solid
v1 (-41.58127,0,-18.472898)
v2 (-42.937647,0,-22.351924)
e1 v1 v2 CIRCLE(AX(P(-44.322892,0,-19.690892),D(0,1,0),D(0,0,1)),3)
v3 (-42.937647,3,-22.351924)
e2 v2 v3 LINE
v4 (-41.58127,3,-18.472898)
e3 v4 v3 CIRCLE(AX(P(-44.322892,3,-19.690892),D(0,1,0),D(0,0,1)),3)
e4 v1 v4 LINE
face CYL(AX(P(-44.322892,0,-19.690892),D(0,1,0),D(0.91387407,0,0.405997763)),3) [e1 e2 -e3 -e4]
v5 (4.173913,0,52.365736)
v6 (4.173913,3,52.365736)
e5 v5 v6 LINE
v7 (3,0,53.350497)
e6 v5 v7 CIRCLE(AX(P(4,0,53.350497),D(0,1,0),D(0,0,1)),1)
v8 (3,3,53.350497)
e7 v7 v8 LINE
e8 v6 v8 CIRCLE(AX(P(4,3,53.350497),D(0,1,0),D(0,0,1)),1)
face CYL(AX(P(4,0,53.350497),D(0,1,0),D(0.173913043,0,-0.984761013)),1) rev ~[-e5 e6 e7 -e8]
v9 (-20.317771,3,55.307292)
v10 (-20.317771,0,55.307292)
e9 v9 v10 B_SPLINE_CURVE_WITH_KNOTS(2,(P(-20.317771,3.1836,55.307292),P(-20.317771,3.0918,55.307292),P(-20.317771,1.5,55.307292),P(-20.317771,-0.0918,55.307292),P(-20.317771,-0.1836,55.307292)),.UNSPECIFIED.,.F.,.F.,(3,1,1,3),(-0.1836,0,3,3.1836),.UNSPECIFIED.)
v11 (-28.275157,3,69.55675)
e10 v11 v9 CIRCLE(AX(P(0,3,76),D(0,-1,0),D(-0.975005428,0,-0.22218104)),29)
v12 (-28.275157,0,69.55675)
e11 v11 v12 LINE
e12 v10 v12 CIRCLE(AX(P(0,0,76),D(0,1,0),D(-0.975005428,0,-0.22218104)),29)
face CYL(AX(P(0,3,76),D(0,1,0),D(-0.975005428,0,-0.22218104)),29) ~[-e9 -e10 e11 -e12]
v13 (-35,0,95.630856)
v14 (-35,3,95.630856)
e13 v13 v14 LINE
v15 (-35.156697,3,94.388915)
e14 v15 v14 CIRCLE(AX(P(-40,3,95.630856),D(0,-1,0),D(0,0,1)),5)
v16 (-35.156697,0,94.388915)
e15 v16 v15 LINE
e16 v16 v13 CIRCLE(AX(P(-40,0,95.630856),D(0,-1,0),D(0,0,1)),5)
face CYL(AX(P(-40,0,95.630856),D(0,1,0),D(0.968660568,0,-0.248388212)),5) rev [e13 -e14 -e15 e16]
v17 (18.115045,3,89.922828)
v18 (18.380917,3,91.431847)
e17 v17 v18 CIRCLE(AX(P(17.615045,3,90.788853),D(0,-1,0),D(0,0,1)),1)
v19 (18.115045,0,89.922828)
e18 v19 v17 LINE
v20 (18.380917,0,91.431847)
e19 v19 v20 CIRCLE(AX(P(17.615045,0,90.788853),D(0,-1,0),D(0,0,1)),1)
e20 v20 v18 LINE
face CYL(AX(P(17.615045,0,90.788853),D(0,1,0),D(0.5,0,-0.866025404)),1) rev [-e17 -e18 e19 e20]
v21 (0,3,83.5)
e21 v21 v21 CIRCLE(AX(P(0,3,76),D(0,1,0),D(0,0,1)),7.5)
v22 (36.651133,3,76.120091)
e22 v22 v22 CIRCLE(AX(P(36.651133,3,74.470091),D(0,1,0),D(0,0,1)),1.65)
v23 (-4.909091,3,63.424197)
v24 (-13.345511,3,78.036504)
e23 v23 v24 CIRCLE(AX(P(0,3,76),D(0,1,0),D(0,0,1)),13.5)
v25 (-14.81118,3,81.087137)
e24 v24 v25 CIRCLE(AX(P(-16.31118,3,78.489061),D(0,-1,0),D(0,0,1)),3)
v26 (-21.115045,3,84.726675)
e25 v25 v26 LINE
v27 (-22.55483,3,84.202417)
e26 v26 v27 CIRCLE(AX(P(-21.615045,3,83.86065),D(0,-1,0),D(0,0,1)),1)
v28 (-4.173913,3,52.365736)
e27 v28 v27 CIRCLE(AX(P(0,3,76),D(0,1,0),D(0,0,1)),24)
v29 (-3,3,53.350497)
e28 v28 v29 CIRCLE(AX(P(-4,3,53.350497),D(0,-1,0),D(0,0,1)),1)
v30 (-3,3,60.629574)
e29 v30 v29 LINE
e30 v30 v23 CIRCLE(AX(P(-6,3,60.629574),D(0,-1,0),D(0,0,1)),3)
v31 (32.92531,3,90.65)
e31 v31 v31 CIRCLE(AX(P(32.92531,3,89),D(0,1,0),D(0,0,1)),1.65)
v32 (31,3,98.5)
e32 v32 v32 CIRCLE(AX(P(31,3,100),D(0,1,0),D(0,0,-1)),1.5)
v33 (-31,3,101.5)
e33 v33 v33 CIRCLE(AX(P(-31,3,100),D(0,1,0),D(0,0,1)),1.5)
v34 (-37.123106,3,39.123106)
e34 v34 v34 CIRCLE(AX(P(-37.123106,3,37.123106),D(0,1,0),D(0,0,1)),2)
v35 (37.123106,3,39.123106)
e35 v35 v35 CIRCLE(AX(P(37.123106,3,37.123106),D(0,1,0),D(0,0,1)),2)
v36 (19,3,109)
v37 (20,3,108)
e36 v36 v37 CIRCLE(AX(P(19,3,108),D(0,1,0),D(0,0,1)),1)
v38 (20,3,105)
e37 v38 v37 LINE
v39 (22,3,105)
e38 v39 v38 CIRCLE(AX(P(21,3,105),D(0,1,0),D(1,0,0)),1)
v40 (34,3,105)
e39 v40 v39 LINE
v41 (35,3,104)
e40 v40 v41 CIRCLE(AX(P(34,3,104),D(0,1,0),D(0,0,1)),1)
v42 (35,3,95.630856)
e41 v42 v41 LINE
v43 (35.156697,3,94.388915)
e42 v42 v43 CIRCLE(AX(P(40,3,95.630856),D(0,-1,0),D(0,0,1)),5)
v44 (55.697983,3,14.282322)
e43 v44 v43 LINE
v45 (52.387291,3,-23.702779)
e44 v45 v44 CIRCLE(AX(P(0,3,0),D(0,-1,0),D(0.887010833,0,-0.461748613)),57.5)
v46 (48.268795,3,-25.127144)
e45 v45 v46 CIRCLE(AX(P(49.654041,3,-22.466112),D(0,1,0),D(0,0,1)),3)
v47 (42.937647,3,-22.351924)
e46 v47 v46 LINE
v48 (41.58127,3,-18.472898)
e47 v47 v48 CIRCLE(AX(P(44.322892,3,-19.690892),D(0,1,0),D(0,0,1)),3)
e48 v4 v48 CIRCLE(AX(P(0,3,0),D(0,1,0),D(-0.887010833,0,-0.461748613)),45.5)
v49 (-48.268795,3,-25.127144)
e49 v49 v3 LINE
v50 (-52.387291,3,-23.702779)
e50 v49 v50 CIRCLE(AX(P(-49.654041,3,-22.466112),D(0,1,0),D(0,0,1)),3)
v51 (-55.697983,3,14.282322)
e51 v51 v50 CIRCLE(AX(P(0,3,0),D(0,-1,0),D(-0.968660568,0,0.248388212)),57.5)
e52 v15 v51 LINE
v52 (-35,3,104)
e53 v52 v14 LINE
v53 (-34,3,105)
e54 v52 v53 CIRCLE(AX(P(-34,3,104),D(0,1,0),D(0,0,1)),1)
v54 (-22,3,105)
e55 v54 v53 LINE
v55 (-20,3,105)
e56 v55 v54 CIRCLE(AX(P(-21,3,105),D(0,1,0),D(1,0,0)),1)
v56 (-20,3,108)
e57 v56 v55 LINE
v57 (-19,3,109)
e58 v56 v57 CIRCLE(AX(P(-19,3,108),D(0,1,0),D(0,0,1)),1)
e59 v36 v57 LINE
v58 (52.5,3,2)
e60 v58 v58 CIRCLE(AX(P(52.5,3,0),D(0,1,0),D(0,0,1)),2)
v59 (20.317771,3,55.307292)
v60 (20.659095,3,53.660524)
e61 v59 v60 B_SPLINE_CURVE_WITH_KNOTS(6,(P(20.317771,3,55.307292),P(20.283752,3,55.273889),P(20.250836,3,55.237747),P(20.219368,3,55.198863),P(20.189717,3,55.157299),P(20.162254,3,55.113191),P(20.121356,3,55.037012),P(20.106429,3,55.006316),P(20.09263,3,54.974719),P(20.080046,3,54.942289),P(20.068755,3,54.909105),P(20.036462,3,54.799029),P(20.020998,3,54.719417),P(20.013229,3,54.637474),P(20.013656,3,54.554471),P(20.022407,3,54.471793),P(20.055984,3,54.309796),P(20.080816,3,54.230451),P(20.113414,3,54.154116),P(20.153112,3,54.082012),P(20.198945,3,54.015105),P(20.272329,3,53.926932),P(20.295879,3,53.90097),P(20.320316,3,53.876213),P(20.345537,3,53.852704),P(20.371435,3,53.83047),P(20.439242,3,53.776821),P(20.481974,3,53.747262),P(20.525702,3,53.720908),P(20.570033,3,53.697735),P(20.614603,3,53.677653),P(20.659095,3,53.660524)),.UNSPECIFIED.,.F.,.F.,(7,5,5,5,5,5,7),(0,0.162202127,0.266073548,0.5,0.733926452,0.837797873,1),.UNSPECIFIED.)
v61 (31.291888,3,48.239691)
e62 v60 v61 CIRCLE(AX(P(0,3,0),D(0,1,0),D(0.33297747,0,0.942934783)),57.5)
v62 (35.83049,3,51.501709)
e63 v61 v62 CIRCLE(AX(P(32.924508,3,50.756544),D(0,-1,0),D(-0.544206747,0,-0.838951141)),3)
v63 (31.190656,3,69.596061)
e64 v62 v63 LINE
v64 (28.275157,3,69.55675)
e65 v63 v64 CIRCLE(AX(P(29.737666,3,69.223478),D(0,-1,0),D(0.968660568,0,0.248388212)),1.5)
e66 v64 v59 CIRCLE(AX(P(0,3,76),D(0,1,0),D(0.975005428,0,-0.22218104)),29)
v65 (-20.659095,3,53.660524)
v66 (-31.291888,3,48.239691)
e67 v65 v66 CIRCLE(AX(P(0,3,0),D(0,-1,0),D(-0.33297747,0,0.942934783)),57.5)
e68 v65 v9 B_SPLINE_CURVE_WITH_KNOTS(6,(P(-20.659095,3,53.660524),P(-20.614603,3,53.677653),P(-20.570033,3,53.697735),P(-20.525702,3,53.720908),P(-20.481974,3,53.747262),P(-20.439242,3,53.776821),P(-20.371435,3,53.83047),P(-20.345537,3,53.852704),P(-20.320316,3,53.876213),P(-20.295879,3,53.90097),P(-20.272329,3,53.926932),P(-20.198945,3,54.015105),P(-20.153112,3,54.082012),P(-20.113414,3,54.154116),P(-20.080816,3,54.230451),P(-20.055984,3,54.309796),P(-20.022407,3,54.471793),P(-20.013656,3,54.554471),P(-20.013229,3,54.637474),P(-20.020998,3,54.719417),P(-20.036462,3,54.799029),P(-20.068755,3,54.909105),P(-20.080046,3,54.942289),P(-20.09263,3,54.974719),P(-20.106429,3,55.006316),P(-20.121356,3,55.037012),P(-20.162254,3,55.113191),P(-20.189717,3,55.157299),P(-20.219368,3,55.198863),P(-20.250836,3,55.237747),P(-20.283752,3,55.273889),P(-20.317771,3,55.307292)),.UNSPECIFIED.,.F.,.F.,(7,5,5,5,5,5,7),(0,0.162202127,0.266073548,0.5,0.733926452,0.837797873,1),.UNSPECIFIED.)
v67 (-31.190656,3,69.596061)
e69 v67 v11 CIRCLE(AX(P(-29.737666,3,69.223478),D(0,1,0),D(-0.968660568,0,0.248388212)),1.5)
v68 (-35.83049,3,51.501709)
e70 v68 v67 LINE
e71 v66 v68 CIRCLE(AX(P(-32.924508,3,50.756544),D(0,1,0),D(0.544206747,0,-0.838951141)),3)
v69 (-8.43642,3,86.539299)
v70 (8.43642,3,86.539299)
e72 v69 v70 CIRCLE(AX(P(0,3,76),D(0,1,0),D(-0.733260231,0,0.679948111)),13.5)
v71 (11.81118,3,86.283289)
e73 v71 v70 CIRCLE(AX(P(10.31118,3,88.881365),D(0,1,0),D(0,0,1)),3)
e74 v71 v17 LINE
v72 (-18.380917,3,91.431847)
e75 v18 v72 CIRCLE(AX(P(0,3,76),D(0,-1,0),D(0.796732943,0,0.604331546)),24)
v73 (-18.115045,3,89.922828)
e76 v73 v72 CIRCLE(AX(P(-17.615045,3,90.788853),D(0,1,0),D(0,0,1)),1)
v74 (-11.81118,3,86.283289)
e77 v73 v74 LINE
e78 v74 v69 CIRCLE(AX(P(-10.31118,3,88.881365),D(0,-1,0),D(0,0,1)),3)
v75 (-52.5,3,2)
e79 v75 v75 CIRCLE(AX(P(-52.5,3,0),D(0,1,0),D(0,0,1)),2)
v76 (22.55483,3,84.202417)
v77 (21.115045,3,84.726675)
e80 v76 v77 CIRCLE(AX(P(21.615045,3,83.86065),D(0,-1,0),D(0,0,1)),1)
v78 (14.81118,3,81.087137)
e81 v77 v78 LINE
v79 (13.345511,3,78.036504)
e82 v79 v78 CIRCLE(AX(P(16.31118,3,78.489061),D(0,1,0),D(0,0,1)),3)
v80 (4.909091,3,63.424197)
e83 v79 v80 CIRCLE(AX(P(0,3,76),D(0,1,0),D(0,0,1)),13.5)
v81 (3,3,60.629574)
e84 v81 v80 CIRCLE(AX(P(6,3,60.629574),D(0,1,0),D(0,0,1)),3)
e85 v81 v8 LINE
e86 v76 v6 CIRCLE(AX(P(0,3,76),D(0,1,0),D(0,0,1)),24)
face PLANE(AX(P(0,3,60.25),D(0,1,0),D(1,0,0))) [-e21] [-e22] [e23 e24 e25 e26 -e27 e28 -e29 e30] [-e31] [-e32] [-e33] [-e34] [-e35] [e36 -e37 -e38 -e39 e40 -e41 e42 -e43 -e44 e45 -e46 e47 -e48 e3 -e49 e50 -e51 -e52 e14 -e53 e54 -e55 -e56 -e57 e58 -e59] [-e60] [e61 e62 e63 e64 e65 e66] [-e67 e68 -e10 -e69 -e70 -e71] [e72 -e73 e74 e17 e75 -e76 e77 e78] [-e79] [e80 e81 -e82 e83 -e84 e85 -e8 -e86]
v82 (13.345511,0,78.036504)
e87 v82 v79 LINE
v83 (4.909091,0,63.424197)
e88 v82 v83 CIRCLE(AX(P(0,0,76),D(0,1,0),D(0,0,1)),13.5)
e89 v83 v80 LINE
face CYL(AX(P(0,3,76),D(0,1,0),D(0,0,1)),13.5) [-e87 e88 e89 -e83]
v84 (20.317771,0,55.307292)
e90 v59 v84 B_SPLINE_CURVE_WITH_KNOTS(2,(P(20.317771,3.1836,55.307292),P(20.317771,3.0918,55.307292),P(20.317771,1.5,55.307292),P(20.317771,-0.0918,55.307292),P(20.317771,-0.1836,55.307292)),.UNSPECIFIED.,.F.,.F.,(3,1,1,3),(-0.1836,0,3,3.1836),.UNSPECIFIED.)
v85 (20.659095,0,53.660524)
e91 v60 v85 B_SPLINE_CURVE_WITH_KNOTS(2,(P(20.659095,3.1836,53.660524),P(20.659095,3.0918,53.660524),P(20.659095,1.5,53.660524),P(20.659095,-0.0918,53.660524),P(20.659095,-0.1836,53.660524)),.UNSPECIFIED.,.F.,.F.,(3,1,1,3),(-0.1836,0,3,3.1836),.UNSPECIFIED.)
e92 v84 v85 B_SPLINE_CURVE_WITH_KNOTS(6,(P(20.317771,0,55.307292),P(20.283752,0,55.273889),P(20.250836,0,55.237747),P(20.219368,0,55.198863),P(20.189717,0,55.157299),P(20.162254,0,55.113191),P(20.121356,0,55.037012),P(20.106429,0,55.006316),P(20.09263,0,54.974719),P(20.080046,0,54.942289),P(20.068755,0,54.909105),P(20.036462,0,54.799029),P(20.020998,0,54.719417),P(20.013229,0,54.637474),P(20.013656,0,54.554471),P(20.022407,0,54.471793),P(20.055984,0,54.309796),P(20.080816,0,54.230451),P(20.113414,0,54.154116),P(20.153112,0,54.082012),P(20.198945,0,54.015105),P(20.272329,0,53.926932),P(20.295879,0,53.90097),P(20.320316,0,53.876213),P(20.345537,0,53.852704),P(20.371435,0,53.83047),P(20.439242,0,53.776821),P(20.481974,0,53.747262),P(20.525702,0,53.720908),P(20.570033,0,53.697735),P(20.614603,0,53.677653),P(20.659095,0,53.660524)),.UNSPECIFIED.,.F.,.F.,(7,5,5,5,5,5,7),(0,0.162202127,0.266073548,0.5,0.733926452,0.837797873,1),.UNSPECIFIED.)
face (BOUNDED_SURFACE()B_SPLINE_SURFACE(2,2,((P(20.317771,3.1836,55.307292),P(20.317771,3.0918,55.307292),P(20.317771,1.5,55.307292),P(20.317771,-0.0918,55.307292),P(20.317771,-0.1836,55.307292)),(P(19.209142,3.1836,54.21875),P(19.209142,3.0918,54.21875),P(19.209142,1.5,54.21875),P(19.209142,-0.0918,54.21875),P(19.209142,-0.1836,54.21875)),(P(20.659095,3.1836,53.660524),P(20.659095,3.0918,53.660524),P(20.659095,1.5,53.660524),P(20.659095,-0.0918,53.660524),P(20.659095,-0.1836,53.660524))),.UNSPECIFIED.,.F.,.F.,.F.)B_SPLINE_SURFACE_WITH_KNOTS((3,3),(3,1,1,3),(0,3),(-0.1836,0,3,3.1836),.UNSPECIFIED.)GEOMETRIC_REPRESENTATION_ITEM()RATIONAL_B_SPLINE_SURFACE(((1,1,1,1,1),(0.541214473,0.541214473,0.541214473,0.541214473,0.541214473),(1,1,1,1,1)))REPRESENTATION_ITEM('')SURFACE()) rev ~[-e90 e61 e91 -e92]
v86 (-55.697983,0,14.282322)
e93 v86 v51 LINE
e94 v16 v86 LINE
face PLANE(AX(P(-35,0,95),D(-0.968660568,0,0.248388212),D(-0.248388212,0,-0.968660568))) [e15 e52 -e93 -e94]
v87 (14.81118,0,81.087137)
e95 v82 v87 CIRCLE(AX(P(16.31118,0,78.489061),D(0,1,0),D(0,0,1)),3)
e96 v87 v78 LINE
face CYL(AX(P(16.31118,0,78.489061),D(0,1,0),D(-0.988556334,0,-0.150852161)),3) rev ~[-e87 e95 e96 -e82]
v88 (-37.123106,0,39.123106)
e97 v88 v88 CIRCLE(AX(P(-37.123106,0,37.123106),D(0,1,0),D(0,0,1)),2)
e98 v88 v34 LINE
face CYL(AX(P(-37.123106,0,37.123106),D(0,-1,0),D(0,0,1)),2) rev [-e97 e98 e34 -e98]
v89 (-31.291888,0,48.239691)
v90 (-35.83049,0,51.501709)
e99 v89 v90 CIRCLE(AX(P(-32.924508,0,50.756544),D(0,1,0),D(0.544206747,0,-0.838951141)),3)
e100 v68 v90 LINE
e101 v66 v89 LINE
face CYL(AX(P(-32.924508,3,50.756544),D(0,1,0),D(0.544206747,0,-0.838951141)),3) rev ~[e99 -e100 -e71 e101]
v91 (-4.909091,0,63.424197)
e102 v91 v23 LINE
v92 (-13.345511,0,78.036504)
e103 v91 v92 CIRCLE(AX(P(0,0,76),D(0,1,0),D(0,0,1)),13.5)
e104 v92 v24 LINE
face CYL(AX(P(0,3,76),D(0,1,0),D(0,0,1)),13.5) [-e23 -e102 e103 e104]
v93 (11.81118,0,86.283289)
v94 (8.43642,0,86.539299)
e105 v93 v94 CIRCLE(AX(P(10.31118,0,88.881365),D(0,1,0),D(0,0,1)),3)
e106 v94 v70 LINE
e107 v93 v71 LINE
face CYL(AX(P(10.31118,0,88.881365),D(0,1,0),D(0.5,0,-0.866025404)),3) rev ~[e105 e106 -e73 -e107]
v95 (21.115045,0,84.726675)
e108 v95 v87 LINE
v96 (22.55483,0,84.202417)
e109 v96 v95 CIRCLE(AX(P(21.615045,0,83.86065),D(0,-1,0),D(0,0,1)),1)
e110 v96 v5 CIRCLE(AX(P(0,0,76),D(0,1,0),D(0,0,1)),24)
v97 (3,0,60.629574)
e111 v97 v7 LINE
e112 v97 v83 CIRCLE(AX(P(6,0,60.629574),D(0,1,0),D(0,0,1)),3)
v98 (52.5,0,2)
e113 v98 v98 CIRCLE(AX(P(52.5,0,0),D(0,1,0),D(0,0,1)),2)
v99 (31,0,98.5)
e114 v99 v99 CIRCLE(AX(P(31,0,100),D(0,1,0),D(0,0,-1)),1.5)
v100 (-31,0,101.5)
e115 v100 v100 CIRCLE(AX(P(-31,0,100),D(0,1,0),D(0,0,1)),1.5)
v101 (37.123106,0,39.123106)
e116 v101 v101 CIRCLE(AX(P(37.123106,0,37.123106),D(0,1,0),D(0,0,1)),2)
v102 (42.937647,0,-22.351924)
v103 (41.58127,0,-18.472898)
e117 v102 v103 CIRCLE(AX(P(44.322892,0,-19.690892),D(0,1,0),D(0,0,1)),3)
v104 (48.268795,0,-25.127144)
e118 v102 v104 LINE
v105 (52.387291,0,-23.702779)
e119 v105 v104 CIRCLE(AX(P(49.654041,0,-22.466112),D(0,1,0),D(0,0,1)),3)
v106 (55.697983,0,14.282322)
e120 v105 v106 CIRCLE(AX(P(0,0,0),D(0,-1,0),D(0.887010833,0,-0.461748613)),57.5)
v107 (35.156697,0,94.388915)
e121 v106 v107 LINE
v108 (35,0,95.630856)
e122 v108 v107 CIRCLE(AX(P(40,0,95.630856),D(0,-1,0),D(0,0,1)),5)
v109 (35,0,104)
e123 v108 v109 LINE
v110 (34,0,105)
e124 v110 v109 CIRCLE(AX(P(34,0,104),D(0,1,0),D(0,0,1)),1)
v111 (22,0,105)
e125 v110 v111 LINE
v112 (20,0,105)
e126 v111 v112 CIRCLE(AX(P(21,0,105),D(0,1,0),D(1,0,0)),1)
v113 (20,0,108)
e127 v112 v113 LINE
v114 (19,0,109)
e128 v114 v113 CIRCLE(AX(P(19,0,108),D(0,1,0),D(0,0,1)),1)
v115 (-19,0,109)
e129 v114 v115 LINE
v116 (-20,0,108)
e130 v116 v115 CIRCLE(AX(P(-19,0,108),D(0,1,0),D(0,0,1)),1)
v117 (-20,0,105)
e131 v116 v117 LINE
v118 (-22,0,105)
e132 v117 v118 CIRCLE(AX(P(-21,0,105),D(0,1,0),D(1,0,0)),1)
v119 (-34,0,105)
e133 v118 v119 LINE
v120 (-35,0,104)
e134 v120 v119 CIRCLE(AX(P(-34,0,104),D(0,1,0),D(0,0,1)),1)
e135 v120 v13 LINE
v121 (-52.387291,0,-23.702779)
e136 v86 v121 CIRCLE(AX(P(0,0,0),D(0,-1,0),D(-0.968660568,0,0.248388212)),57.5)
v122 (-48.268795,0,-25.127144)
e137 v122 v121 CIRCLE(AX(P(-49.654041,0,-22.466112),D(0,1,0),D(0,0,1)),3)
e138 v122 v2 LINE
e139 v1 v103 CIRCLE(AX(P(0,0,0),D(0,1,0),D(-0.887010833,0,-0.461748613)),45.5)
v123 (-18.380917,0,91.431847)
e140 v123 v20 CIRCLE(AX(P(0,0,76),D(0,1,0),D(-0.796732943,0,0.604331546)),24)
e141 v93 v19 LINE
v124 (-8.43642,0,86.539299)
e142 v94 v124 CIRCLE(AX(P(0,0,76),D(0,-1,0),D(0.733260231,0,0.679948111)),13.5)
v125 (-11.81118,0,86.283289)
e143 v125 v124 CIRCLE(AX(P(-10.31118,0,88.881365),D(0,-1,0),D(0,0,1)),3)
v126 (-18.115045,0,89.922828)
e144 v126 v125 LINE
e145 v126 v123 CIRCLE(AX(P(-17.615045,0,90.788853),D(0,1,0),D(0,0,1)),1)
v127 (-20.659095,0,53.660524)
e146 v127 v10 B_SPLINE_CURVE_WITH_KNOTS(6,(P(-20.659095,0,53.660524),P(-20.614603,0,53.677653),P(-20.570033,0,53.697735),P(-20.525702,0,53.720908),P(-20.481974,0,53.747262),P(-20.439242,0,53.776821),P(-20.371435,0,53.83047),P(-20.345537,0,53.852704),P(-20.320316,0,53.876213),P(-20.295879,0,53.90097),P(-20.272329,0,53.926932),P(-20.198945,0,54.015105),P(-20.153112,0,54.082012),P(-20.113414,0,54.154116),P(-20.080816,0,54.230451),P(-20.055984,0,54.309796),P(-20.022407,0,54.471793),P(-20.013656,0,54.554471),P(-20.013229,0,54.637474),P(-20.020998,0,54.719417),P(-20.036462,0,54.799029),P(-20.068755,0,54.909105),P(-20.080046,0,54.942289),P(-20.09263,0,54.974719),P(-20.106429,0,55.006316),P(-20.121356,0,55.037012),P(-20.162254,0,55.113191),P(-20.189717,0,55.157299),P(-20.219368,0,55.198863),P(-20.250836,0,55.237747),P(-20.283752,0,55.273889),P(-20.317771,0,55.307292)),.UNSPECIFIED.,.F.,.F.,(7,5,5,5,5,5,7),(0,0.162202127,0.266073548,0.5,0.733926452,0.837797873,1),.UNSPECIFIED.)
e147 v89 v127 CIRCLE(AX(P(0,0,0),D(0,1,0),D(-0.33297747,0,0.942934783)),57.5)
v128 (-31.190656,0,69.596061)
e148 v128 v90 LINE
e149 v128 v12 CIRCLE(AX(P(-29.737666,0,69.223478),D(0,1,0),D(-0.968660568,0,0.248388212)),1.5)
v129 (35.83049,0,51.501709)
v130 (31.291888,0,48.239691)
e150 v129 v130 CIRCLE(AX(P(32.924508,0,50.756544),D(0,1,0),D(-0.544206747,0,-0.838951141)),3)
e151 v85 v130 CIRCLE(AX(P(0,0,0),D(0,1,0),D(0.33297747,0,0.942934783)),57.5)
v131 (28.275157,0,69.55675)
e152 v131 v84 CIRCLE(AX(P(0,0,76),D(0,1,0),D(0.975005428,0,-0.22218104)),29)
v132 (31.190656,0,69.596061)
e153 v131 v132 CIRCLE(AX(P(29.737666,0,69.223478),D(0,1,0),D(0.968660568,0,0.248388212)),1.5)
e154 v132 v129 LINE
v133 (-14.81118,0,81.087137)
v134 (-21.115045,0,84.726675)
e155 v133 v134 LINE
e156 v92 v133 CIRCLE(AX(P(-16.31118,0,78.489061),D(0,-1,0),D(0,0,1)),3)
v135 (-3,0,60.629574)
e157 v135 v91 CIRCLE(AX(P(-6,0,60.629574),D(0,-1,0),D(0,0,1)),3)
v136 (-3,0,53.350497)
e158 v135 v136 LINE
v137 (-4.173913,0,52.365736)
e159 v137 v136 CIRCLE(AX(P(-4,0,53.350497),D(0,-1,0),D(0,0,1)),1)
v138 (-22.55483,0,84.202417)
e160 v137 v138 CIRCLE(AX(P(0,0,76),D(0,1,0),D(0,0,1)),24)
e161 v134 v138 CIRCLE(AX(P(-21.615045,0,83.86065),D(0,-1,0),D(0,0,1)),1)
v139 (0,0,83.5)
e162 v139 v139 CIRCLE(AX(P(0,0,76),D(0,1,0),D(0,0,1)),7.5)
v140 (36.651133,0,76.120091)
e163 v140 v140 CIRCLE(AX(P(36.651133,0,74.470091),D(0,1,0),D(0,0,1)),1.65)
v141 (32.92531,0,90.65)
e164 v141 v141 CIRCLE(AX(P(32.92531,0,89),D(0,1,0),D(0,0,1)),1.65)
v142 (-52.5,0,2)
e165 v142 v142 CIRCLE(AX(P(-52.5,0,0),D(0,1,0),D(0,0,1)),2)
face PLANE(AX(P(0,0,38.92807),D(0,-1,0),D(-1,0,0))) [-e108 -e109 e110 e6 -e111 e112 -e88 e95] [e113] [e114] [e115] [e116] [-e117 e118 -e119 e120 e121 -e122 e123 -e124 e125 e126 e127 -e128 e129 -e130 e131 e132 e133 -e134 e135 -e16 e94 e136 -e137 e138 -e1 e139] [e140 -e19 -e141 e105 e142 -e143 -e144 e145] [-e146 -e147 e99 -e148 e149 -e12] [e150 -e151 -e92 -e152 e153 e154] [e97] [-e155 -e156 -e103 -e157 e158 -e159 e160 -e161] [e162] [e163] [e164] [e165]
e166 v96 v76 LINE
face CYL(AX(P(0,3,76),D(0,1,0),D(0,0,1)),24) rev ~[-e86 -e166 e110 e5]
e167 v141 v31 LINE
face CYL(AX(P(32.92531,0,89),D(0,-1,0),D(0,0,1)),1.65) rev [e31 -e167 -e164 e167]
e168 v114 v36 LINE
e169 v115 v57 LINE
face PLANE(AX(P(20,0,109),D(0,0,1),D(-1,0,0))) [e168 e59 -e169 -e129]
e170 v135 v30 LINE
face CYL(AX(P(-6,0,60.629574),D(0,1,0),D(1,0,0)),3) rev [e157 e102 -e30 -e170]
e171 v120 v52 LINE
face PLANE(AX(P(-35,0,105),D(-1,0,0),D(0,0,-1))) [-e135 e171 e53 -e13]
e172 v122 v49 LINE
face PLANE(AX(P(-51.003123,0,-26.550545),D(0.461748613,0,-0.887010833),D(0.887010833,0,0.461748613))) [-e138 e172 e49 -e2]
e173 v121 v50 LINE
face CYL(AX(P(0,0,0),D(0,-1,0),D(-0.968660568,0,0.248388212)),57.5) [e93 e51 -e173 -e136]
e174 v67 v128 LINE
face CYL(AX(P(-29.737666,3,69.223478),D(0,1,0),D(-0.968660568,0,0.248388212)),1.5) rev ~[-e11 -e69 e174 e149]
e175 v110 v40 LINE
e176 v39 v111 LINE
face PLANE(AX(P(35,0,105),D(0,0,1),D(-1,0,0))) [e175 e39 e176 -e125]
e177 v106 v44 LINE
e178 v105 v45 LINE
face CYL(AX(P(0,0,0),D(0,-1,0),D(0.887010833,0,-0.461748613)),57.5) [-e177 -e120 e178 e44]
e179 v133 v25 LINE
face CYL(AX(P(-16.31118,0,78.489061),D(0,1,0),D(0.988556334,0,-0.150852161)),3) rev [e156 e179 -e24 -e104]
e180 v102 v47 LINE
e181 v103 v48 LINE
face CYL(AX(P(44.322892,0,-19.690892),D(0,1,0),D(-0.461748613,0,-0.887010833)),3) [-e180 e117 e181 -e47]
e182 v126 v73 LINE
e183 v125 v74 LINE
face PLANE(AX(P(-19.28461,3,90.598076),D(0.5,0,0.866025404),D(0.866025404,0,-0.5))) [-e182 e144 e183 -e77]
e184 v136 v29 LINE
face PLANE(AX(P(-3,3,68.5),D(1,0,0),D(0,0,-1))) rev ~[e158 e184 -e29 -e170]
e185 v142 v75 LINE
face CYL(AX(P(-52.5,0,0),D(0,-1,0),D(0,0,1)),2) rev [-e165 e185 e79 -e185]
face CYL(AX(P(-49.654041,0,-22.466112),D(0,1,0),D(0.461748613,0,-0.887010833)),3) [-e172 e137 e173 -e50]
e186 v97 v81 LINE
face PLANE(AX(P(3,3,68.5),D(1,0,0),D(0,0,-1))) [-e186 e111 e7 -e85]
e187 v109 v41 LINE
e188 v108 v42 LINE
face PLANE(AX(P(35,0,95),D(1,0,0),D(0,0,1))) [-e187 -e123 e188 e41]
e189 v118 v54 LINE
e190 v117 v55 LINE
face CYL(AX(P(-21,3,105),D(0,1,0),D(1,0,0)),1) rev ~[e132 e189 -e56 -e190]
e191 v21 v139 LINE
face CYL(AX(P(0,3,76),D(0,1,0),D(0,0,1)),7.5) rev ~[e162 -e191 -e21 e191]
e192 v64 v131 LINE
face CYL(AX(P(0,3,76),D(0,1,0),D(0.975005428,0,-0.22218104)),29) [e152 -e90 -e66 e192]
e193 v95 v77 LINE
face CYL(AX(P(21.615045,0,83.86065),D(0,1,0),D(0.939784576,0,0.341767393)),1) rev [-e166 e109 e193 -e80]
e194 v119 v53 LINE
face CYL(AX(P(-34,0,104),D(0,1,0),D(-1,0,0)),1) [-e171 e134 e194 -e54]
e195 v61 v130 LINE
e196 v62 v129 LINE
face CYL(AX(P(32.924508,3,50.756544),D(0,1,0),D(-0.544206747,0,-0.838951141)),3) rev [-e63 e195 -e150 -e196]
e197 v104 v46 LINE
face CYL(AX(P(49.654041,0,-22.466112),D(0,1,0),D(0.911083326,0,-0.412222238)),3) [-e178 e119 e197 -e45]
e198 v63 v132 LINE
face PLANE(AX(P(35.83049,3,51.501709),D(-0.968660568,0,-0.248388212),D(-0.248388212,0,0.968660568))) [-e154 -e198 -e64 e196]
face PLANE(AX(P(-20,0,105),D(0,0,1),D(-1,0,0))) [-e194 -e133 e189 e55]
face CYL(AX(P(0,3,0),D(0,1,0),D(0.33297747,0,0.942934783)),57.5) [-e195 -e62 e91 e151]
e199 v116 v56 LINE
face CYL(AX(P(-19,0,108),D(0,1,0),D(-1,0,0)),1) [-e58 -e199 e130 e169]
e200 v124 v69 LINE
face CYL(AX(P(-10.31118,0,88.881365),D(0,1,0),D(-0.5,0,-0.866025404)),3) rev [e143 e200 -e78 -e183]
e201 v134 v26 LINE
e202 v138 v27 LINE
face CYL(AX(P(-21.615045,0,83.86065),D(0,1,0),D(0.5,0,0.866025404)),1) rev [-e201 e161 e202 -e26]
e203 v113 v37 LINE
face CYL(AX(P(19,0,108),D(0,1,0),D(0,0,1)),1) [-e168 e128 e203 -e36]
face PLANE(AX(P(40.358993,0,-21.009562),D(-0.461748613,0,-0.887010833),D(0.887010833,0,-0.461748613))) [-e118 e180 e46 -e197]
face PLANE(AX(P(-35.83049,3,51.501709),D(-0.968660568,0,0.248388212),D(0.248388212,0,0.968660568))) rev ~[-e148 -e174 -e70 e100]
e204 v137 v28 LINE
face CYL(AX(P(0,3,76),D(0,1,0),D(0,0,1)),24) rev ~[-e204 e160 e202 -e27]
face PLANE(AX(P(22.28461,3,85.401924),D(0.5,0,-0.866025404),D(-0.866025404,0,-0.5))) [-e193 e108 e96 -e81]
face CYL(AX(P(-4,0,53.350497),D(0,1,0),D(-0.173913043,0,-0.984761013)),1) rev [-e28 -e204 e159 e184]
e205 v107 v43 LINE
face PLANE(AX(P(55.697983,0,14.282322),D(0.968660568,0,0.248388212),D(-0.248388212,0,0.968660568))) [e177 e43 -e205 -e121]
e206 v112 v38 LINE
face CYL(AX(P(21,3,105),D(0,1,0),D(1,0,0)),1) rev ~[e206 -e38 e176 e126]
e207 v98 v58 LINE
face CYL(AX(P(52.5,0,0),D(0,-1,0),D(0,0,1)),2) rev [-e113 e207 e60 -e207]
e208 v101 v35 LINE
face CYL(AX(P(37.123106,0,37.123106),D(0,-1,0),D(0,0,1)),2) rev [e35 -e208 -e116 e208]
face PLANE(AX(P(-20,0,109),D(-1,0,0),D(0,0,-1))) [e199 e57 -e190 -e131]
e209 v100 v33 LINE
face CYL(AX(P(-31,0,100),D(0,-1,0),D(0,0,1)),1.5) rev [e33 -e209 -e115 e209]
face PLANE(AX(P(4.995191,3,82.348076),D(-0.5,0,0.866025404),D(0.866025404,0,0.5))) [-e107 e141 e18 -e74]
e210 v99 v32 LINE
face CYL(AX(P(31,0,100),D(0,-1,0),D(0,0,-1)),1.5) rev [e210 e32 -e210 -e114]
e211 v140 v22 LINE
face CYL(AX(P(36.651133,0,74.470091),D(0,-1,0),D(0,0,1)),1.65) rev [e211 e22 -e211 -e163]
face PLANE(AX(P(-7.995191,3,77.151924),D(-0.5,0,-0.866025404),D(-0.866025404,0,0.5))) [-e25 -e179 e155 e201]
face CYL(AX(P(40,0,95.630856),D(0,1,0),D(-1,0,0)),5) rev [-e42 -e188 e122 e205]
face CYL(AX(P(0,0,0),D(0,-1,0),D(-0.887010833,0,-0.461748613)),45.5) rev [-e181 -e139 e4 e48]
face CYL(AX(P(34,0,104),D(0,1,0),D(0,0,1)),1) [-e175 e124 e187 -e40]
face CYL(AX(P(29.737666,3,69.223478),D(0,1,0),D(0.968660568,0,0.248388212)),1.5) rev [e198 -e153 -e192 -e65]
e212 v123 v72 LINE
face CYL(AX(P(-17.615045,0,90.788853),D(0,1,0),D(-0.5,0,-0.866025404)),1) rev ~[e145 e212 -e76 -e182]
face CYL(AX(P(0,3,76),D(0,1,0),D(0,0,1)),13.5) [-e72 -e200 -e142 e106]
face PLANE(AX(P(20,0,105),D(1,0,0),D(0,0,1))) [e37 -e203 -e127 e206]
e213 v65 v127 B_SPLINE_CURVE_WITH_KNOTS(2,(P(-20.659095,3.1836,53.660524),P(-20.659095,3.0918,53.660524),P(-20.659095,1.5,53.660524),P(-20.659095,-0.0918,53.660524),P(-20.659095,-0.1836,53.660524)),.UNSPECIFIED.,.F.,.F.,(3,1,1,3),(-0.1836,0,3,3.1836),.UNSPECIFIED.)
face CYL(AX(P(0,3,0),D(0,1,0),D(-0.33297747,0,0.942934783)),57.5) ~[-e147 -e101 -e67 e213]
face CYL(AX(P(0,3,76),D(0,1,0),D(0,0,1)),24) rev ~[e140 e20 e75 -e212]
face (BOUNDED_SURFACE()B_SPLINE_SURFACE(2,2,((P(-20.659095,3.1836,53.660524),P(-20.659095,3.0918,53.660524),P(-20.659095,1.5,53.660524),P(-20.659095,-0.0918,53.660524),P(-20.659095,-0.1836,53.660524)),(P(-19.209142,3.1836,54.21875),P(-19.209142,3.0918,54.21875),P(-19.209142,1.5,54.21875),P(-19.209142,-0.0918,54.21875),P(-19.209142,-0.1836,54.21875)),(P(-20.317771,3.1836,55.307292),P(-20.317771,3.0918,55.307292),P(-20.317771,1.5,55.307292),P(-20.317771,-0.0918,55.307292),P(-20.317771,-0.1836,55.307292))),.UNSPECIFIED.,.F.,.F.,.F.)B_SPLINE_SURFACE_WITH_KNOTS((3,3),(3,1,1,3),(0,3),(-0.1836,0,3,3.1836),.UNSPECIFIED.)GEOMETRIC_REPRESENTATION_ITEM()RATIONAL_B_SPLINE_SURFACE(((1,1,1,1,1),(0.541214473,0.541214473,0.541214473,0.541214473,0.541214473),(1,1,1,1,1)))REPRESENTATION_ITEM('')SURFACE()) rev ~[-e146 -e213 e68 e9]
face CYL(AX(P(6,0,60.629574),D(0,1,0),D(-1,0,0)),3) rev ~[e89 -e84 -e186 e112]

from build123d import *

# Parameters (mm, degrees)
SKETCH_1_R          = 1.5
SKETCH_1_R_2        = 2
SKETCH_1_R_3        = 1.65
EXTRUDE_1_DEPTH     = 3
SKETCH_3_R          = 1
CUT_EXTRUDE_3_DEPTH = 124.273070863
SKETCH_4_R          = 24
SKETCH_4_R_2        = 13.5
SKETCH_4_R_3        = 7.5
CUT_EXTRUDE_4_DEPTH = 124.273070863
SKETCH_5_W          = 6
SKETCH_5_H          = 16.5
EXTRUDE_1_2_DEPTH   = 3
FILLET_4_R          = 1
FILLET_6_R          = 5
FILLET_7_R          = 3


with BuildPart() as part:
    # 草图1 → Extrude 1 (new body)
    with BuildSketch(Plane(origin=(0, 0, 0), x_dir=(1, 0, 0), z_dir=(0, 1, 0))):
        with BuildLine():
            Line((-51.003122908, 26.550545261), (-40.35899291, 21.009561902))
            ThreePointArc((-40.35899291, 21.009561902), (0, -45.5), (40.35899291, 21.009561902))
            Line((40.35899291, 21.009561902), (51.003122908, 26.550545261))
            ThreePointArc((51.003122908, 26.550545261), (57.123657521, 6.567933576), (55.697982668, -14.282322175))
            Line((55.697982668, -14.282322175), (35, -95))
            Line((35, -95), (35, -105))
            Line((35, -105), (20, -105))
            Line((20, -105), (20, -109))
            Line((20, -109), (-20, -109))
            Line((-20, -109), (-20, -105))
            Line((-20, -105), (-35, -105))
            Line((-35, -105), (-35, -95))
            Line((-35, -95), (-55.697982668, -14.282322175))
            ThreePointArc((-55.697982668, -14.282322175), (-57.123657521, 6.567933576), (-51.003122908, 26.550545261))
        make_face()
        with Locations(Location((-31, -100, 0), (0, 0, 270))):
            Circle(SKETCH_1_R, mode=Mode.SUBTRACT)
        with Locations(Location((31, -100, 0), (0, 0, 90))):
            Circle(SKETCH_1_R, mode=Mode.SUBTRACT)
        with Locations(Location((-37.123106012, -37.123106012, 0), (0, 0, 270))):
            Circle(SKETCH_1_R_2, mode=Mode.SUBTRACT)
        with Locations(Location((-52.5, 0, 0), (0, 0, 270))):
            Circle(SKETCH_1_R_2, mode=Mode.SUBTRACT)
        with Locations(Location((52.5, 0, 0), (0, 0, 270))):
            Circle(SKETCH_1_R_2, mode=Mode.SUBTRACT)
        with Locations(Location((37.123106012, -37.123106012, 0), (0, 0, 270))):
            Circle(SKETCH_1_R_2, mode=Mode.SUBTRACT)
        with Locations(Location((32.925309654, -89, 0), (0, 0, 270))):
            Circle(SKETCH_1_R_3, mode=Mode.SUBTRACT)
        with Locations(Location((36.65113283, -74.470091478, 0), (0, 0, 270))):
            Circle(SKETCH_1_R_3, mode=Mode.SUBTRACT)
    extrude(amount=EXTRUDE_1_DEPTH)

    # 草图3 → 切除-拉伸3 (cut, through all)
    with BuildSketch(Plane(origin=(0, 3, 0), x_dir=(1, 0, 0), z_dir=(0, 1, 0))):
        with Locations((-21, -105)):
            Circle(SKETCH_3_R)
        with Locations((21, -105)):
            Circle(SKETCH_3_R)
    extrude(amount=-CUT_EXTRUDE_3_DEPTH, mode=Mode.SUBTRACT)

    # 草图4 → 切除-拉伸4 (cut, through all)
    # profile 1 of 4: a face of its own
    with BuildSketch(Plane(origin=(0, 3, 0), x_dir=(1, 0, 0), z_dir=(0, 1, 0))):
        with Locations(Location((0, -76, 0), (0, 0, 270))):
            Circle(SKETCH_4_R)
        with Locations(Location((0, -76, 0), (0, 0, 270))):
            Circle(SKETCH_4_R_2, mode=Mode.SUBTRACT)
    # profile 2 of 4: a face of its own
    with BuildSketch(Plane(origin=(0, 3, 0), x_dir=(1, 0, 0), z_dir=(0, 1, 0))):
        with Locations(Location((0, -76, 0), (0, 0, 270))):
            Circle(SKETCH_4_R_3)
    # profile 3 of 4: a face of its own
    with BuildSketch(Plane(origin=(0, 3, 0), x_dir=(1, 0, 0), z_dir=(0, 1, 0))):
        with BuildLine():
            Line((-35.830489881, -51.50170866), (-31.190656418, -69.59606059))
            ThreePointArc((-31.190656418, -69.59606059), (-29.717442346, -70.72334194), (-28.275157423, -69.556749833))
            ThreePointArc((-28.275157423, -69.556749833), (-24.920071276, -61.167938525), (-19.146204544, -54.21875))
            ThreePointArc((-19.146204544, -54.21875), (-25.395621297, -51.58790962), (-31.291887936, -48.239690602))
            ThreePointArc((-31.291887936, -48.239690602), (-34.67538019, -48.320471942), (-35.830489881, -51.50170866))
        make_face()
    # profile 4 of 4: a face of its own
    with BuildSketch(Plane(origin=(0, 3, 0), x_dir=(1, 0, 0), z_dir=(0, 1, 0))):
        with BuildLine():
            Line((35.830489881, -51.50170866), (31.190656418, -69.59606059))
            ThreePointArc((31.190656418, -69.59606059), (29.717442346, -70.72334194), (28.275157423, -69.556749833))
            ThreePointArc((28.275157423, -69.556749833), (24.920071276, -61.167938525), (19.146204544, -54.21875))
            ThreePointArc((19.146204544, -54.21875), (25.395621297, -51.58790962), (31.291887936, -48.239690602))
            ThreePointArc((31.291887936, -48.239690602), (34.67538019, -48.320471942), (35.830489881, -51.50170866))
        make_face()
    extrude(amount=-CUT_EXTRUDE_4_DEPTH, mode=Mode.SUBTRACT)


with BuildPart() as cut_extrude_4_piece_1:
    # of the separate pieces the step leaves, piece 1, a body of its own (cut_extrude_4_pieces)
    add(part.part.solids().sort_by_distance((-51.003122908, 0, -26.550545261))[0])



with BuildPart() as cut_extrude_4_piece_2:
    # of the separate pieces the step leaves, piece 2, a body of its own (cut_extrude_4_pieces)
    add(part.part.solids().sort_by_distance((0, 0, 89.5))[0])


with BuildPart() as cut_extrude_4_piece_1_1:
    add(cut_extrude_4_piece_1.part)

    add(cut_extrude_4_piece_2.part)  # Extrude 1 2 merges 切除-拉伸4 piece 2
    # 草图5 → Extrude 1 2 (add)
    with BuildSketch(Plane(origin=(0, 3, 0), x_dir=(1, 0, 0), z_dir=(0, 1, 0))):
        with Locations((0, -60.25)):
            Rectangle(SKETCH_5_W, SKETCH_5_H)
        Polygon((22.284609691, -85.401923789), (7.995190528, -77.151923789), (4.995190528, -82.348076211), (19.284609691, -90.598076211), align=None)
        Polygon((-19.284609691, -90.598076211), (-4.995190528, -82.348076211), (-7.995190528, -77.151923789), (-22.284609691, -85.401923789), align=None)
    extrude(amount=-EXTRUDE_1_2_DEPTH)

    # 圆角4
    fillet_4_edges = [cut_extrude_4_piece_1_1.edges().sort_by_distance(p)[0] for p in [
        (19.121590627, 1.5, 90.503957111),
        (22.121590627, 1.5, 85.307804688),
        (-19.146204544, 1.5, 54.21875),
        (19.146204544, 1.5, 54.21875),
        (-22.121590627, 1.5, 85.307804688),
        (-19.121590627, 1.5, 90.503957111),
        (3, 1.5, 52.1882382),
        (-3, 1.5, 52.1882382),
        (-35, 1.5, 105),
        (-20, 1.5, 109),
        (20, 1.5, 109),
        (35, 1.5, 105),
    ]]
    fillet(fillet_4_edges, radius=FILLET_4_R)

    # 圆角6
    fillet_6_edges = [cut_extrude_4_piece_1_1.edges().sort_by_distance(p)[0] for p in [
        (-35, 1.5, 95),
        (35, 1.5, 95),
    ]]
    fillet(fillet_6_edges, radius=FILLET_6_R)

    # 圆角7
    fillet_7_edges = [cut_extrude_4_piece_1_1.edges().sort_by_distance(p)[0] for p in [
        (9.899013115, 1.5, 85.179299502),
        (12.899013115, 1.5, 79.983147079),
        (-9.899013115, 1.5, 85.179299502),
        (-12.899013115, 1.5, 79.983147079),
        (51.003122908, 1.5, -26.550545261),
        (3, 1.5, 62.837553419),
        (40.35899291, 1.5, -21.009561902),
        (-40.35899291, 1.5, -21.009561902),
        (-3, 1.5, 62.837553419),
        (-51.003122908, 1.5, -26.550545261),
    ]]
    fillet(fillet_7_edges, radius=FILLET_7_R)


solid = cut_extrude_4_piece_1_1.part
